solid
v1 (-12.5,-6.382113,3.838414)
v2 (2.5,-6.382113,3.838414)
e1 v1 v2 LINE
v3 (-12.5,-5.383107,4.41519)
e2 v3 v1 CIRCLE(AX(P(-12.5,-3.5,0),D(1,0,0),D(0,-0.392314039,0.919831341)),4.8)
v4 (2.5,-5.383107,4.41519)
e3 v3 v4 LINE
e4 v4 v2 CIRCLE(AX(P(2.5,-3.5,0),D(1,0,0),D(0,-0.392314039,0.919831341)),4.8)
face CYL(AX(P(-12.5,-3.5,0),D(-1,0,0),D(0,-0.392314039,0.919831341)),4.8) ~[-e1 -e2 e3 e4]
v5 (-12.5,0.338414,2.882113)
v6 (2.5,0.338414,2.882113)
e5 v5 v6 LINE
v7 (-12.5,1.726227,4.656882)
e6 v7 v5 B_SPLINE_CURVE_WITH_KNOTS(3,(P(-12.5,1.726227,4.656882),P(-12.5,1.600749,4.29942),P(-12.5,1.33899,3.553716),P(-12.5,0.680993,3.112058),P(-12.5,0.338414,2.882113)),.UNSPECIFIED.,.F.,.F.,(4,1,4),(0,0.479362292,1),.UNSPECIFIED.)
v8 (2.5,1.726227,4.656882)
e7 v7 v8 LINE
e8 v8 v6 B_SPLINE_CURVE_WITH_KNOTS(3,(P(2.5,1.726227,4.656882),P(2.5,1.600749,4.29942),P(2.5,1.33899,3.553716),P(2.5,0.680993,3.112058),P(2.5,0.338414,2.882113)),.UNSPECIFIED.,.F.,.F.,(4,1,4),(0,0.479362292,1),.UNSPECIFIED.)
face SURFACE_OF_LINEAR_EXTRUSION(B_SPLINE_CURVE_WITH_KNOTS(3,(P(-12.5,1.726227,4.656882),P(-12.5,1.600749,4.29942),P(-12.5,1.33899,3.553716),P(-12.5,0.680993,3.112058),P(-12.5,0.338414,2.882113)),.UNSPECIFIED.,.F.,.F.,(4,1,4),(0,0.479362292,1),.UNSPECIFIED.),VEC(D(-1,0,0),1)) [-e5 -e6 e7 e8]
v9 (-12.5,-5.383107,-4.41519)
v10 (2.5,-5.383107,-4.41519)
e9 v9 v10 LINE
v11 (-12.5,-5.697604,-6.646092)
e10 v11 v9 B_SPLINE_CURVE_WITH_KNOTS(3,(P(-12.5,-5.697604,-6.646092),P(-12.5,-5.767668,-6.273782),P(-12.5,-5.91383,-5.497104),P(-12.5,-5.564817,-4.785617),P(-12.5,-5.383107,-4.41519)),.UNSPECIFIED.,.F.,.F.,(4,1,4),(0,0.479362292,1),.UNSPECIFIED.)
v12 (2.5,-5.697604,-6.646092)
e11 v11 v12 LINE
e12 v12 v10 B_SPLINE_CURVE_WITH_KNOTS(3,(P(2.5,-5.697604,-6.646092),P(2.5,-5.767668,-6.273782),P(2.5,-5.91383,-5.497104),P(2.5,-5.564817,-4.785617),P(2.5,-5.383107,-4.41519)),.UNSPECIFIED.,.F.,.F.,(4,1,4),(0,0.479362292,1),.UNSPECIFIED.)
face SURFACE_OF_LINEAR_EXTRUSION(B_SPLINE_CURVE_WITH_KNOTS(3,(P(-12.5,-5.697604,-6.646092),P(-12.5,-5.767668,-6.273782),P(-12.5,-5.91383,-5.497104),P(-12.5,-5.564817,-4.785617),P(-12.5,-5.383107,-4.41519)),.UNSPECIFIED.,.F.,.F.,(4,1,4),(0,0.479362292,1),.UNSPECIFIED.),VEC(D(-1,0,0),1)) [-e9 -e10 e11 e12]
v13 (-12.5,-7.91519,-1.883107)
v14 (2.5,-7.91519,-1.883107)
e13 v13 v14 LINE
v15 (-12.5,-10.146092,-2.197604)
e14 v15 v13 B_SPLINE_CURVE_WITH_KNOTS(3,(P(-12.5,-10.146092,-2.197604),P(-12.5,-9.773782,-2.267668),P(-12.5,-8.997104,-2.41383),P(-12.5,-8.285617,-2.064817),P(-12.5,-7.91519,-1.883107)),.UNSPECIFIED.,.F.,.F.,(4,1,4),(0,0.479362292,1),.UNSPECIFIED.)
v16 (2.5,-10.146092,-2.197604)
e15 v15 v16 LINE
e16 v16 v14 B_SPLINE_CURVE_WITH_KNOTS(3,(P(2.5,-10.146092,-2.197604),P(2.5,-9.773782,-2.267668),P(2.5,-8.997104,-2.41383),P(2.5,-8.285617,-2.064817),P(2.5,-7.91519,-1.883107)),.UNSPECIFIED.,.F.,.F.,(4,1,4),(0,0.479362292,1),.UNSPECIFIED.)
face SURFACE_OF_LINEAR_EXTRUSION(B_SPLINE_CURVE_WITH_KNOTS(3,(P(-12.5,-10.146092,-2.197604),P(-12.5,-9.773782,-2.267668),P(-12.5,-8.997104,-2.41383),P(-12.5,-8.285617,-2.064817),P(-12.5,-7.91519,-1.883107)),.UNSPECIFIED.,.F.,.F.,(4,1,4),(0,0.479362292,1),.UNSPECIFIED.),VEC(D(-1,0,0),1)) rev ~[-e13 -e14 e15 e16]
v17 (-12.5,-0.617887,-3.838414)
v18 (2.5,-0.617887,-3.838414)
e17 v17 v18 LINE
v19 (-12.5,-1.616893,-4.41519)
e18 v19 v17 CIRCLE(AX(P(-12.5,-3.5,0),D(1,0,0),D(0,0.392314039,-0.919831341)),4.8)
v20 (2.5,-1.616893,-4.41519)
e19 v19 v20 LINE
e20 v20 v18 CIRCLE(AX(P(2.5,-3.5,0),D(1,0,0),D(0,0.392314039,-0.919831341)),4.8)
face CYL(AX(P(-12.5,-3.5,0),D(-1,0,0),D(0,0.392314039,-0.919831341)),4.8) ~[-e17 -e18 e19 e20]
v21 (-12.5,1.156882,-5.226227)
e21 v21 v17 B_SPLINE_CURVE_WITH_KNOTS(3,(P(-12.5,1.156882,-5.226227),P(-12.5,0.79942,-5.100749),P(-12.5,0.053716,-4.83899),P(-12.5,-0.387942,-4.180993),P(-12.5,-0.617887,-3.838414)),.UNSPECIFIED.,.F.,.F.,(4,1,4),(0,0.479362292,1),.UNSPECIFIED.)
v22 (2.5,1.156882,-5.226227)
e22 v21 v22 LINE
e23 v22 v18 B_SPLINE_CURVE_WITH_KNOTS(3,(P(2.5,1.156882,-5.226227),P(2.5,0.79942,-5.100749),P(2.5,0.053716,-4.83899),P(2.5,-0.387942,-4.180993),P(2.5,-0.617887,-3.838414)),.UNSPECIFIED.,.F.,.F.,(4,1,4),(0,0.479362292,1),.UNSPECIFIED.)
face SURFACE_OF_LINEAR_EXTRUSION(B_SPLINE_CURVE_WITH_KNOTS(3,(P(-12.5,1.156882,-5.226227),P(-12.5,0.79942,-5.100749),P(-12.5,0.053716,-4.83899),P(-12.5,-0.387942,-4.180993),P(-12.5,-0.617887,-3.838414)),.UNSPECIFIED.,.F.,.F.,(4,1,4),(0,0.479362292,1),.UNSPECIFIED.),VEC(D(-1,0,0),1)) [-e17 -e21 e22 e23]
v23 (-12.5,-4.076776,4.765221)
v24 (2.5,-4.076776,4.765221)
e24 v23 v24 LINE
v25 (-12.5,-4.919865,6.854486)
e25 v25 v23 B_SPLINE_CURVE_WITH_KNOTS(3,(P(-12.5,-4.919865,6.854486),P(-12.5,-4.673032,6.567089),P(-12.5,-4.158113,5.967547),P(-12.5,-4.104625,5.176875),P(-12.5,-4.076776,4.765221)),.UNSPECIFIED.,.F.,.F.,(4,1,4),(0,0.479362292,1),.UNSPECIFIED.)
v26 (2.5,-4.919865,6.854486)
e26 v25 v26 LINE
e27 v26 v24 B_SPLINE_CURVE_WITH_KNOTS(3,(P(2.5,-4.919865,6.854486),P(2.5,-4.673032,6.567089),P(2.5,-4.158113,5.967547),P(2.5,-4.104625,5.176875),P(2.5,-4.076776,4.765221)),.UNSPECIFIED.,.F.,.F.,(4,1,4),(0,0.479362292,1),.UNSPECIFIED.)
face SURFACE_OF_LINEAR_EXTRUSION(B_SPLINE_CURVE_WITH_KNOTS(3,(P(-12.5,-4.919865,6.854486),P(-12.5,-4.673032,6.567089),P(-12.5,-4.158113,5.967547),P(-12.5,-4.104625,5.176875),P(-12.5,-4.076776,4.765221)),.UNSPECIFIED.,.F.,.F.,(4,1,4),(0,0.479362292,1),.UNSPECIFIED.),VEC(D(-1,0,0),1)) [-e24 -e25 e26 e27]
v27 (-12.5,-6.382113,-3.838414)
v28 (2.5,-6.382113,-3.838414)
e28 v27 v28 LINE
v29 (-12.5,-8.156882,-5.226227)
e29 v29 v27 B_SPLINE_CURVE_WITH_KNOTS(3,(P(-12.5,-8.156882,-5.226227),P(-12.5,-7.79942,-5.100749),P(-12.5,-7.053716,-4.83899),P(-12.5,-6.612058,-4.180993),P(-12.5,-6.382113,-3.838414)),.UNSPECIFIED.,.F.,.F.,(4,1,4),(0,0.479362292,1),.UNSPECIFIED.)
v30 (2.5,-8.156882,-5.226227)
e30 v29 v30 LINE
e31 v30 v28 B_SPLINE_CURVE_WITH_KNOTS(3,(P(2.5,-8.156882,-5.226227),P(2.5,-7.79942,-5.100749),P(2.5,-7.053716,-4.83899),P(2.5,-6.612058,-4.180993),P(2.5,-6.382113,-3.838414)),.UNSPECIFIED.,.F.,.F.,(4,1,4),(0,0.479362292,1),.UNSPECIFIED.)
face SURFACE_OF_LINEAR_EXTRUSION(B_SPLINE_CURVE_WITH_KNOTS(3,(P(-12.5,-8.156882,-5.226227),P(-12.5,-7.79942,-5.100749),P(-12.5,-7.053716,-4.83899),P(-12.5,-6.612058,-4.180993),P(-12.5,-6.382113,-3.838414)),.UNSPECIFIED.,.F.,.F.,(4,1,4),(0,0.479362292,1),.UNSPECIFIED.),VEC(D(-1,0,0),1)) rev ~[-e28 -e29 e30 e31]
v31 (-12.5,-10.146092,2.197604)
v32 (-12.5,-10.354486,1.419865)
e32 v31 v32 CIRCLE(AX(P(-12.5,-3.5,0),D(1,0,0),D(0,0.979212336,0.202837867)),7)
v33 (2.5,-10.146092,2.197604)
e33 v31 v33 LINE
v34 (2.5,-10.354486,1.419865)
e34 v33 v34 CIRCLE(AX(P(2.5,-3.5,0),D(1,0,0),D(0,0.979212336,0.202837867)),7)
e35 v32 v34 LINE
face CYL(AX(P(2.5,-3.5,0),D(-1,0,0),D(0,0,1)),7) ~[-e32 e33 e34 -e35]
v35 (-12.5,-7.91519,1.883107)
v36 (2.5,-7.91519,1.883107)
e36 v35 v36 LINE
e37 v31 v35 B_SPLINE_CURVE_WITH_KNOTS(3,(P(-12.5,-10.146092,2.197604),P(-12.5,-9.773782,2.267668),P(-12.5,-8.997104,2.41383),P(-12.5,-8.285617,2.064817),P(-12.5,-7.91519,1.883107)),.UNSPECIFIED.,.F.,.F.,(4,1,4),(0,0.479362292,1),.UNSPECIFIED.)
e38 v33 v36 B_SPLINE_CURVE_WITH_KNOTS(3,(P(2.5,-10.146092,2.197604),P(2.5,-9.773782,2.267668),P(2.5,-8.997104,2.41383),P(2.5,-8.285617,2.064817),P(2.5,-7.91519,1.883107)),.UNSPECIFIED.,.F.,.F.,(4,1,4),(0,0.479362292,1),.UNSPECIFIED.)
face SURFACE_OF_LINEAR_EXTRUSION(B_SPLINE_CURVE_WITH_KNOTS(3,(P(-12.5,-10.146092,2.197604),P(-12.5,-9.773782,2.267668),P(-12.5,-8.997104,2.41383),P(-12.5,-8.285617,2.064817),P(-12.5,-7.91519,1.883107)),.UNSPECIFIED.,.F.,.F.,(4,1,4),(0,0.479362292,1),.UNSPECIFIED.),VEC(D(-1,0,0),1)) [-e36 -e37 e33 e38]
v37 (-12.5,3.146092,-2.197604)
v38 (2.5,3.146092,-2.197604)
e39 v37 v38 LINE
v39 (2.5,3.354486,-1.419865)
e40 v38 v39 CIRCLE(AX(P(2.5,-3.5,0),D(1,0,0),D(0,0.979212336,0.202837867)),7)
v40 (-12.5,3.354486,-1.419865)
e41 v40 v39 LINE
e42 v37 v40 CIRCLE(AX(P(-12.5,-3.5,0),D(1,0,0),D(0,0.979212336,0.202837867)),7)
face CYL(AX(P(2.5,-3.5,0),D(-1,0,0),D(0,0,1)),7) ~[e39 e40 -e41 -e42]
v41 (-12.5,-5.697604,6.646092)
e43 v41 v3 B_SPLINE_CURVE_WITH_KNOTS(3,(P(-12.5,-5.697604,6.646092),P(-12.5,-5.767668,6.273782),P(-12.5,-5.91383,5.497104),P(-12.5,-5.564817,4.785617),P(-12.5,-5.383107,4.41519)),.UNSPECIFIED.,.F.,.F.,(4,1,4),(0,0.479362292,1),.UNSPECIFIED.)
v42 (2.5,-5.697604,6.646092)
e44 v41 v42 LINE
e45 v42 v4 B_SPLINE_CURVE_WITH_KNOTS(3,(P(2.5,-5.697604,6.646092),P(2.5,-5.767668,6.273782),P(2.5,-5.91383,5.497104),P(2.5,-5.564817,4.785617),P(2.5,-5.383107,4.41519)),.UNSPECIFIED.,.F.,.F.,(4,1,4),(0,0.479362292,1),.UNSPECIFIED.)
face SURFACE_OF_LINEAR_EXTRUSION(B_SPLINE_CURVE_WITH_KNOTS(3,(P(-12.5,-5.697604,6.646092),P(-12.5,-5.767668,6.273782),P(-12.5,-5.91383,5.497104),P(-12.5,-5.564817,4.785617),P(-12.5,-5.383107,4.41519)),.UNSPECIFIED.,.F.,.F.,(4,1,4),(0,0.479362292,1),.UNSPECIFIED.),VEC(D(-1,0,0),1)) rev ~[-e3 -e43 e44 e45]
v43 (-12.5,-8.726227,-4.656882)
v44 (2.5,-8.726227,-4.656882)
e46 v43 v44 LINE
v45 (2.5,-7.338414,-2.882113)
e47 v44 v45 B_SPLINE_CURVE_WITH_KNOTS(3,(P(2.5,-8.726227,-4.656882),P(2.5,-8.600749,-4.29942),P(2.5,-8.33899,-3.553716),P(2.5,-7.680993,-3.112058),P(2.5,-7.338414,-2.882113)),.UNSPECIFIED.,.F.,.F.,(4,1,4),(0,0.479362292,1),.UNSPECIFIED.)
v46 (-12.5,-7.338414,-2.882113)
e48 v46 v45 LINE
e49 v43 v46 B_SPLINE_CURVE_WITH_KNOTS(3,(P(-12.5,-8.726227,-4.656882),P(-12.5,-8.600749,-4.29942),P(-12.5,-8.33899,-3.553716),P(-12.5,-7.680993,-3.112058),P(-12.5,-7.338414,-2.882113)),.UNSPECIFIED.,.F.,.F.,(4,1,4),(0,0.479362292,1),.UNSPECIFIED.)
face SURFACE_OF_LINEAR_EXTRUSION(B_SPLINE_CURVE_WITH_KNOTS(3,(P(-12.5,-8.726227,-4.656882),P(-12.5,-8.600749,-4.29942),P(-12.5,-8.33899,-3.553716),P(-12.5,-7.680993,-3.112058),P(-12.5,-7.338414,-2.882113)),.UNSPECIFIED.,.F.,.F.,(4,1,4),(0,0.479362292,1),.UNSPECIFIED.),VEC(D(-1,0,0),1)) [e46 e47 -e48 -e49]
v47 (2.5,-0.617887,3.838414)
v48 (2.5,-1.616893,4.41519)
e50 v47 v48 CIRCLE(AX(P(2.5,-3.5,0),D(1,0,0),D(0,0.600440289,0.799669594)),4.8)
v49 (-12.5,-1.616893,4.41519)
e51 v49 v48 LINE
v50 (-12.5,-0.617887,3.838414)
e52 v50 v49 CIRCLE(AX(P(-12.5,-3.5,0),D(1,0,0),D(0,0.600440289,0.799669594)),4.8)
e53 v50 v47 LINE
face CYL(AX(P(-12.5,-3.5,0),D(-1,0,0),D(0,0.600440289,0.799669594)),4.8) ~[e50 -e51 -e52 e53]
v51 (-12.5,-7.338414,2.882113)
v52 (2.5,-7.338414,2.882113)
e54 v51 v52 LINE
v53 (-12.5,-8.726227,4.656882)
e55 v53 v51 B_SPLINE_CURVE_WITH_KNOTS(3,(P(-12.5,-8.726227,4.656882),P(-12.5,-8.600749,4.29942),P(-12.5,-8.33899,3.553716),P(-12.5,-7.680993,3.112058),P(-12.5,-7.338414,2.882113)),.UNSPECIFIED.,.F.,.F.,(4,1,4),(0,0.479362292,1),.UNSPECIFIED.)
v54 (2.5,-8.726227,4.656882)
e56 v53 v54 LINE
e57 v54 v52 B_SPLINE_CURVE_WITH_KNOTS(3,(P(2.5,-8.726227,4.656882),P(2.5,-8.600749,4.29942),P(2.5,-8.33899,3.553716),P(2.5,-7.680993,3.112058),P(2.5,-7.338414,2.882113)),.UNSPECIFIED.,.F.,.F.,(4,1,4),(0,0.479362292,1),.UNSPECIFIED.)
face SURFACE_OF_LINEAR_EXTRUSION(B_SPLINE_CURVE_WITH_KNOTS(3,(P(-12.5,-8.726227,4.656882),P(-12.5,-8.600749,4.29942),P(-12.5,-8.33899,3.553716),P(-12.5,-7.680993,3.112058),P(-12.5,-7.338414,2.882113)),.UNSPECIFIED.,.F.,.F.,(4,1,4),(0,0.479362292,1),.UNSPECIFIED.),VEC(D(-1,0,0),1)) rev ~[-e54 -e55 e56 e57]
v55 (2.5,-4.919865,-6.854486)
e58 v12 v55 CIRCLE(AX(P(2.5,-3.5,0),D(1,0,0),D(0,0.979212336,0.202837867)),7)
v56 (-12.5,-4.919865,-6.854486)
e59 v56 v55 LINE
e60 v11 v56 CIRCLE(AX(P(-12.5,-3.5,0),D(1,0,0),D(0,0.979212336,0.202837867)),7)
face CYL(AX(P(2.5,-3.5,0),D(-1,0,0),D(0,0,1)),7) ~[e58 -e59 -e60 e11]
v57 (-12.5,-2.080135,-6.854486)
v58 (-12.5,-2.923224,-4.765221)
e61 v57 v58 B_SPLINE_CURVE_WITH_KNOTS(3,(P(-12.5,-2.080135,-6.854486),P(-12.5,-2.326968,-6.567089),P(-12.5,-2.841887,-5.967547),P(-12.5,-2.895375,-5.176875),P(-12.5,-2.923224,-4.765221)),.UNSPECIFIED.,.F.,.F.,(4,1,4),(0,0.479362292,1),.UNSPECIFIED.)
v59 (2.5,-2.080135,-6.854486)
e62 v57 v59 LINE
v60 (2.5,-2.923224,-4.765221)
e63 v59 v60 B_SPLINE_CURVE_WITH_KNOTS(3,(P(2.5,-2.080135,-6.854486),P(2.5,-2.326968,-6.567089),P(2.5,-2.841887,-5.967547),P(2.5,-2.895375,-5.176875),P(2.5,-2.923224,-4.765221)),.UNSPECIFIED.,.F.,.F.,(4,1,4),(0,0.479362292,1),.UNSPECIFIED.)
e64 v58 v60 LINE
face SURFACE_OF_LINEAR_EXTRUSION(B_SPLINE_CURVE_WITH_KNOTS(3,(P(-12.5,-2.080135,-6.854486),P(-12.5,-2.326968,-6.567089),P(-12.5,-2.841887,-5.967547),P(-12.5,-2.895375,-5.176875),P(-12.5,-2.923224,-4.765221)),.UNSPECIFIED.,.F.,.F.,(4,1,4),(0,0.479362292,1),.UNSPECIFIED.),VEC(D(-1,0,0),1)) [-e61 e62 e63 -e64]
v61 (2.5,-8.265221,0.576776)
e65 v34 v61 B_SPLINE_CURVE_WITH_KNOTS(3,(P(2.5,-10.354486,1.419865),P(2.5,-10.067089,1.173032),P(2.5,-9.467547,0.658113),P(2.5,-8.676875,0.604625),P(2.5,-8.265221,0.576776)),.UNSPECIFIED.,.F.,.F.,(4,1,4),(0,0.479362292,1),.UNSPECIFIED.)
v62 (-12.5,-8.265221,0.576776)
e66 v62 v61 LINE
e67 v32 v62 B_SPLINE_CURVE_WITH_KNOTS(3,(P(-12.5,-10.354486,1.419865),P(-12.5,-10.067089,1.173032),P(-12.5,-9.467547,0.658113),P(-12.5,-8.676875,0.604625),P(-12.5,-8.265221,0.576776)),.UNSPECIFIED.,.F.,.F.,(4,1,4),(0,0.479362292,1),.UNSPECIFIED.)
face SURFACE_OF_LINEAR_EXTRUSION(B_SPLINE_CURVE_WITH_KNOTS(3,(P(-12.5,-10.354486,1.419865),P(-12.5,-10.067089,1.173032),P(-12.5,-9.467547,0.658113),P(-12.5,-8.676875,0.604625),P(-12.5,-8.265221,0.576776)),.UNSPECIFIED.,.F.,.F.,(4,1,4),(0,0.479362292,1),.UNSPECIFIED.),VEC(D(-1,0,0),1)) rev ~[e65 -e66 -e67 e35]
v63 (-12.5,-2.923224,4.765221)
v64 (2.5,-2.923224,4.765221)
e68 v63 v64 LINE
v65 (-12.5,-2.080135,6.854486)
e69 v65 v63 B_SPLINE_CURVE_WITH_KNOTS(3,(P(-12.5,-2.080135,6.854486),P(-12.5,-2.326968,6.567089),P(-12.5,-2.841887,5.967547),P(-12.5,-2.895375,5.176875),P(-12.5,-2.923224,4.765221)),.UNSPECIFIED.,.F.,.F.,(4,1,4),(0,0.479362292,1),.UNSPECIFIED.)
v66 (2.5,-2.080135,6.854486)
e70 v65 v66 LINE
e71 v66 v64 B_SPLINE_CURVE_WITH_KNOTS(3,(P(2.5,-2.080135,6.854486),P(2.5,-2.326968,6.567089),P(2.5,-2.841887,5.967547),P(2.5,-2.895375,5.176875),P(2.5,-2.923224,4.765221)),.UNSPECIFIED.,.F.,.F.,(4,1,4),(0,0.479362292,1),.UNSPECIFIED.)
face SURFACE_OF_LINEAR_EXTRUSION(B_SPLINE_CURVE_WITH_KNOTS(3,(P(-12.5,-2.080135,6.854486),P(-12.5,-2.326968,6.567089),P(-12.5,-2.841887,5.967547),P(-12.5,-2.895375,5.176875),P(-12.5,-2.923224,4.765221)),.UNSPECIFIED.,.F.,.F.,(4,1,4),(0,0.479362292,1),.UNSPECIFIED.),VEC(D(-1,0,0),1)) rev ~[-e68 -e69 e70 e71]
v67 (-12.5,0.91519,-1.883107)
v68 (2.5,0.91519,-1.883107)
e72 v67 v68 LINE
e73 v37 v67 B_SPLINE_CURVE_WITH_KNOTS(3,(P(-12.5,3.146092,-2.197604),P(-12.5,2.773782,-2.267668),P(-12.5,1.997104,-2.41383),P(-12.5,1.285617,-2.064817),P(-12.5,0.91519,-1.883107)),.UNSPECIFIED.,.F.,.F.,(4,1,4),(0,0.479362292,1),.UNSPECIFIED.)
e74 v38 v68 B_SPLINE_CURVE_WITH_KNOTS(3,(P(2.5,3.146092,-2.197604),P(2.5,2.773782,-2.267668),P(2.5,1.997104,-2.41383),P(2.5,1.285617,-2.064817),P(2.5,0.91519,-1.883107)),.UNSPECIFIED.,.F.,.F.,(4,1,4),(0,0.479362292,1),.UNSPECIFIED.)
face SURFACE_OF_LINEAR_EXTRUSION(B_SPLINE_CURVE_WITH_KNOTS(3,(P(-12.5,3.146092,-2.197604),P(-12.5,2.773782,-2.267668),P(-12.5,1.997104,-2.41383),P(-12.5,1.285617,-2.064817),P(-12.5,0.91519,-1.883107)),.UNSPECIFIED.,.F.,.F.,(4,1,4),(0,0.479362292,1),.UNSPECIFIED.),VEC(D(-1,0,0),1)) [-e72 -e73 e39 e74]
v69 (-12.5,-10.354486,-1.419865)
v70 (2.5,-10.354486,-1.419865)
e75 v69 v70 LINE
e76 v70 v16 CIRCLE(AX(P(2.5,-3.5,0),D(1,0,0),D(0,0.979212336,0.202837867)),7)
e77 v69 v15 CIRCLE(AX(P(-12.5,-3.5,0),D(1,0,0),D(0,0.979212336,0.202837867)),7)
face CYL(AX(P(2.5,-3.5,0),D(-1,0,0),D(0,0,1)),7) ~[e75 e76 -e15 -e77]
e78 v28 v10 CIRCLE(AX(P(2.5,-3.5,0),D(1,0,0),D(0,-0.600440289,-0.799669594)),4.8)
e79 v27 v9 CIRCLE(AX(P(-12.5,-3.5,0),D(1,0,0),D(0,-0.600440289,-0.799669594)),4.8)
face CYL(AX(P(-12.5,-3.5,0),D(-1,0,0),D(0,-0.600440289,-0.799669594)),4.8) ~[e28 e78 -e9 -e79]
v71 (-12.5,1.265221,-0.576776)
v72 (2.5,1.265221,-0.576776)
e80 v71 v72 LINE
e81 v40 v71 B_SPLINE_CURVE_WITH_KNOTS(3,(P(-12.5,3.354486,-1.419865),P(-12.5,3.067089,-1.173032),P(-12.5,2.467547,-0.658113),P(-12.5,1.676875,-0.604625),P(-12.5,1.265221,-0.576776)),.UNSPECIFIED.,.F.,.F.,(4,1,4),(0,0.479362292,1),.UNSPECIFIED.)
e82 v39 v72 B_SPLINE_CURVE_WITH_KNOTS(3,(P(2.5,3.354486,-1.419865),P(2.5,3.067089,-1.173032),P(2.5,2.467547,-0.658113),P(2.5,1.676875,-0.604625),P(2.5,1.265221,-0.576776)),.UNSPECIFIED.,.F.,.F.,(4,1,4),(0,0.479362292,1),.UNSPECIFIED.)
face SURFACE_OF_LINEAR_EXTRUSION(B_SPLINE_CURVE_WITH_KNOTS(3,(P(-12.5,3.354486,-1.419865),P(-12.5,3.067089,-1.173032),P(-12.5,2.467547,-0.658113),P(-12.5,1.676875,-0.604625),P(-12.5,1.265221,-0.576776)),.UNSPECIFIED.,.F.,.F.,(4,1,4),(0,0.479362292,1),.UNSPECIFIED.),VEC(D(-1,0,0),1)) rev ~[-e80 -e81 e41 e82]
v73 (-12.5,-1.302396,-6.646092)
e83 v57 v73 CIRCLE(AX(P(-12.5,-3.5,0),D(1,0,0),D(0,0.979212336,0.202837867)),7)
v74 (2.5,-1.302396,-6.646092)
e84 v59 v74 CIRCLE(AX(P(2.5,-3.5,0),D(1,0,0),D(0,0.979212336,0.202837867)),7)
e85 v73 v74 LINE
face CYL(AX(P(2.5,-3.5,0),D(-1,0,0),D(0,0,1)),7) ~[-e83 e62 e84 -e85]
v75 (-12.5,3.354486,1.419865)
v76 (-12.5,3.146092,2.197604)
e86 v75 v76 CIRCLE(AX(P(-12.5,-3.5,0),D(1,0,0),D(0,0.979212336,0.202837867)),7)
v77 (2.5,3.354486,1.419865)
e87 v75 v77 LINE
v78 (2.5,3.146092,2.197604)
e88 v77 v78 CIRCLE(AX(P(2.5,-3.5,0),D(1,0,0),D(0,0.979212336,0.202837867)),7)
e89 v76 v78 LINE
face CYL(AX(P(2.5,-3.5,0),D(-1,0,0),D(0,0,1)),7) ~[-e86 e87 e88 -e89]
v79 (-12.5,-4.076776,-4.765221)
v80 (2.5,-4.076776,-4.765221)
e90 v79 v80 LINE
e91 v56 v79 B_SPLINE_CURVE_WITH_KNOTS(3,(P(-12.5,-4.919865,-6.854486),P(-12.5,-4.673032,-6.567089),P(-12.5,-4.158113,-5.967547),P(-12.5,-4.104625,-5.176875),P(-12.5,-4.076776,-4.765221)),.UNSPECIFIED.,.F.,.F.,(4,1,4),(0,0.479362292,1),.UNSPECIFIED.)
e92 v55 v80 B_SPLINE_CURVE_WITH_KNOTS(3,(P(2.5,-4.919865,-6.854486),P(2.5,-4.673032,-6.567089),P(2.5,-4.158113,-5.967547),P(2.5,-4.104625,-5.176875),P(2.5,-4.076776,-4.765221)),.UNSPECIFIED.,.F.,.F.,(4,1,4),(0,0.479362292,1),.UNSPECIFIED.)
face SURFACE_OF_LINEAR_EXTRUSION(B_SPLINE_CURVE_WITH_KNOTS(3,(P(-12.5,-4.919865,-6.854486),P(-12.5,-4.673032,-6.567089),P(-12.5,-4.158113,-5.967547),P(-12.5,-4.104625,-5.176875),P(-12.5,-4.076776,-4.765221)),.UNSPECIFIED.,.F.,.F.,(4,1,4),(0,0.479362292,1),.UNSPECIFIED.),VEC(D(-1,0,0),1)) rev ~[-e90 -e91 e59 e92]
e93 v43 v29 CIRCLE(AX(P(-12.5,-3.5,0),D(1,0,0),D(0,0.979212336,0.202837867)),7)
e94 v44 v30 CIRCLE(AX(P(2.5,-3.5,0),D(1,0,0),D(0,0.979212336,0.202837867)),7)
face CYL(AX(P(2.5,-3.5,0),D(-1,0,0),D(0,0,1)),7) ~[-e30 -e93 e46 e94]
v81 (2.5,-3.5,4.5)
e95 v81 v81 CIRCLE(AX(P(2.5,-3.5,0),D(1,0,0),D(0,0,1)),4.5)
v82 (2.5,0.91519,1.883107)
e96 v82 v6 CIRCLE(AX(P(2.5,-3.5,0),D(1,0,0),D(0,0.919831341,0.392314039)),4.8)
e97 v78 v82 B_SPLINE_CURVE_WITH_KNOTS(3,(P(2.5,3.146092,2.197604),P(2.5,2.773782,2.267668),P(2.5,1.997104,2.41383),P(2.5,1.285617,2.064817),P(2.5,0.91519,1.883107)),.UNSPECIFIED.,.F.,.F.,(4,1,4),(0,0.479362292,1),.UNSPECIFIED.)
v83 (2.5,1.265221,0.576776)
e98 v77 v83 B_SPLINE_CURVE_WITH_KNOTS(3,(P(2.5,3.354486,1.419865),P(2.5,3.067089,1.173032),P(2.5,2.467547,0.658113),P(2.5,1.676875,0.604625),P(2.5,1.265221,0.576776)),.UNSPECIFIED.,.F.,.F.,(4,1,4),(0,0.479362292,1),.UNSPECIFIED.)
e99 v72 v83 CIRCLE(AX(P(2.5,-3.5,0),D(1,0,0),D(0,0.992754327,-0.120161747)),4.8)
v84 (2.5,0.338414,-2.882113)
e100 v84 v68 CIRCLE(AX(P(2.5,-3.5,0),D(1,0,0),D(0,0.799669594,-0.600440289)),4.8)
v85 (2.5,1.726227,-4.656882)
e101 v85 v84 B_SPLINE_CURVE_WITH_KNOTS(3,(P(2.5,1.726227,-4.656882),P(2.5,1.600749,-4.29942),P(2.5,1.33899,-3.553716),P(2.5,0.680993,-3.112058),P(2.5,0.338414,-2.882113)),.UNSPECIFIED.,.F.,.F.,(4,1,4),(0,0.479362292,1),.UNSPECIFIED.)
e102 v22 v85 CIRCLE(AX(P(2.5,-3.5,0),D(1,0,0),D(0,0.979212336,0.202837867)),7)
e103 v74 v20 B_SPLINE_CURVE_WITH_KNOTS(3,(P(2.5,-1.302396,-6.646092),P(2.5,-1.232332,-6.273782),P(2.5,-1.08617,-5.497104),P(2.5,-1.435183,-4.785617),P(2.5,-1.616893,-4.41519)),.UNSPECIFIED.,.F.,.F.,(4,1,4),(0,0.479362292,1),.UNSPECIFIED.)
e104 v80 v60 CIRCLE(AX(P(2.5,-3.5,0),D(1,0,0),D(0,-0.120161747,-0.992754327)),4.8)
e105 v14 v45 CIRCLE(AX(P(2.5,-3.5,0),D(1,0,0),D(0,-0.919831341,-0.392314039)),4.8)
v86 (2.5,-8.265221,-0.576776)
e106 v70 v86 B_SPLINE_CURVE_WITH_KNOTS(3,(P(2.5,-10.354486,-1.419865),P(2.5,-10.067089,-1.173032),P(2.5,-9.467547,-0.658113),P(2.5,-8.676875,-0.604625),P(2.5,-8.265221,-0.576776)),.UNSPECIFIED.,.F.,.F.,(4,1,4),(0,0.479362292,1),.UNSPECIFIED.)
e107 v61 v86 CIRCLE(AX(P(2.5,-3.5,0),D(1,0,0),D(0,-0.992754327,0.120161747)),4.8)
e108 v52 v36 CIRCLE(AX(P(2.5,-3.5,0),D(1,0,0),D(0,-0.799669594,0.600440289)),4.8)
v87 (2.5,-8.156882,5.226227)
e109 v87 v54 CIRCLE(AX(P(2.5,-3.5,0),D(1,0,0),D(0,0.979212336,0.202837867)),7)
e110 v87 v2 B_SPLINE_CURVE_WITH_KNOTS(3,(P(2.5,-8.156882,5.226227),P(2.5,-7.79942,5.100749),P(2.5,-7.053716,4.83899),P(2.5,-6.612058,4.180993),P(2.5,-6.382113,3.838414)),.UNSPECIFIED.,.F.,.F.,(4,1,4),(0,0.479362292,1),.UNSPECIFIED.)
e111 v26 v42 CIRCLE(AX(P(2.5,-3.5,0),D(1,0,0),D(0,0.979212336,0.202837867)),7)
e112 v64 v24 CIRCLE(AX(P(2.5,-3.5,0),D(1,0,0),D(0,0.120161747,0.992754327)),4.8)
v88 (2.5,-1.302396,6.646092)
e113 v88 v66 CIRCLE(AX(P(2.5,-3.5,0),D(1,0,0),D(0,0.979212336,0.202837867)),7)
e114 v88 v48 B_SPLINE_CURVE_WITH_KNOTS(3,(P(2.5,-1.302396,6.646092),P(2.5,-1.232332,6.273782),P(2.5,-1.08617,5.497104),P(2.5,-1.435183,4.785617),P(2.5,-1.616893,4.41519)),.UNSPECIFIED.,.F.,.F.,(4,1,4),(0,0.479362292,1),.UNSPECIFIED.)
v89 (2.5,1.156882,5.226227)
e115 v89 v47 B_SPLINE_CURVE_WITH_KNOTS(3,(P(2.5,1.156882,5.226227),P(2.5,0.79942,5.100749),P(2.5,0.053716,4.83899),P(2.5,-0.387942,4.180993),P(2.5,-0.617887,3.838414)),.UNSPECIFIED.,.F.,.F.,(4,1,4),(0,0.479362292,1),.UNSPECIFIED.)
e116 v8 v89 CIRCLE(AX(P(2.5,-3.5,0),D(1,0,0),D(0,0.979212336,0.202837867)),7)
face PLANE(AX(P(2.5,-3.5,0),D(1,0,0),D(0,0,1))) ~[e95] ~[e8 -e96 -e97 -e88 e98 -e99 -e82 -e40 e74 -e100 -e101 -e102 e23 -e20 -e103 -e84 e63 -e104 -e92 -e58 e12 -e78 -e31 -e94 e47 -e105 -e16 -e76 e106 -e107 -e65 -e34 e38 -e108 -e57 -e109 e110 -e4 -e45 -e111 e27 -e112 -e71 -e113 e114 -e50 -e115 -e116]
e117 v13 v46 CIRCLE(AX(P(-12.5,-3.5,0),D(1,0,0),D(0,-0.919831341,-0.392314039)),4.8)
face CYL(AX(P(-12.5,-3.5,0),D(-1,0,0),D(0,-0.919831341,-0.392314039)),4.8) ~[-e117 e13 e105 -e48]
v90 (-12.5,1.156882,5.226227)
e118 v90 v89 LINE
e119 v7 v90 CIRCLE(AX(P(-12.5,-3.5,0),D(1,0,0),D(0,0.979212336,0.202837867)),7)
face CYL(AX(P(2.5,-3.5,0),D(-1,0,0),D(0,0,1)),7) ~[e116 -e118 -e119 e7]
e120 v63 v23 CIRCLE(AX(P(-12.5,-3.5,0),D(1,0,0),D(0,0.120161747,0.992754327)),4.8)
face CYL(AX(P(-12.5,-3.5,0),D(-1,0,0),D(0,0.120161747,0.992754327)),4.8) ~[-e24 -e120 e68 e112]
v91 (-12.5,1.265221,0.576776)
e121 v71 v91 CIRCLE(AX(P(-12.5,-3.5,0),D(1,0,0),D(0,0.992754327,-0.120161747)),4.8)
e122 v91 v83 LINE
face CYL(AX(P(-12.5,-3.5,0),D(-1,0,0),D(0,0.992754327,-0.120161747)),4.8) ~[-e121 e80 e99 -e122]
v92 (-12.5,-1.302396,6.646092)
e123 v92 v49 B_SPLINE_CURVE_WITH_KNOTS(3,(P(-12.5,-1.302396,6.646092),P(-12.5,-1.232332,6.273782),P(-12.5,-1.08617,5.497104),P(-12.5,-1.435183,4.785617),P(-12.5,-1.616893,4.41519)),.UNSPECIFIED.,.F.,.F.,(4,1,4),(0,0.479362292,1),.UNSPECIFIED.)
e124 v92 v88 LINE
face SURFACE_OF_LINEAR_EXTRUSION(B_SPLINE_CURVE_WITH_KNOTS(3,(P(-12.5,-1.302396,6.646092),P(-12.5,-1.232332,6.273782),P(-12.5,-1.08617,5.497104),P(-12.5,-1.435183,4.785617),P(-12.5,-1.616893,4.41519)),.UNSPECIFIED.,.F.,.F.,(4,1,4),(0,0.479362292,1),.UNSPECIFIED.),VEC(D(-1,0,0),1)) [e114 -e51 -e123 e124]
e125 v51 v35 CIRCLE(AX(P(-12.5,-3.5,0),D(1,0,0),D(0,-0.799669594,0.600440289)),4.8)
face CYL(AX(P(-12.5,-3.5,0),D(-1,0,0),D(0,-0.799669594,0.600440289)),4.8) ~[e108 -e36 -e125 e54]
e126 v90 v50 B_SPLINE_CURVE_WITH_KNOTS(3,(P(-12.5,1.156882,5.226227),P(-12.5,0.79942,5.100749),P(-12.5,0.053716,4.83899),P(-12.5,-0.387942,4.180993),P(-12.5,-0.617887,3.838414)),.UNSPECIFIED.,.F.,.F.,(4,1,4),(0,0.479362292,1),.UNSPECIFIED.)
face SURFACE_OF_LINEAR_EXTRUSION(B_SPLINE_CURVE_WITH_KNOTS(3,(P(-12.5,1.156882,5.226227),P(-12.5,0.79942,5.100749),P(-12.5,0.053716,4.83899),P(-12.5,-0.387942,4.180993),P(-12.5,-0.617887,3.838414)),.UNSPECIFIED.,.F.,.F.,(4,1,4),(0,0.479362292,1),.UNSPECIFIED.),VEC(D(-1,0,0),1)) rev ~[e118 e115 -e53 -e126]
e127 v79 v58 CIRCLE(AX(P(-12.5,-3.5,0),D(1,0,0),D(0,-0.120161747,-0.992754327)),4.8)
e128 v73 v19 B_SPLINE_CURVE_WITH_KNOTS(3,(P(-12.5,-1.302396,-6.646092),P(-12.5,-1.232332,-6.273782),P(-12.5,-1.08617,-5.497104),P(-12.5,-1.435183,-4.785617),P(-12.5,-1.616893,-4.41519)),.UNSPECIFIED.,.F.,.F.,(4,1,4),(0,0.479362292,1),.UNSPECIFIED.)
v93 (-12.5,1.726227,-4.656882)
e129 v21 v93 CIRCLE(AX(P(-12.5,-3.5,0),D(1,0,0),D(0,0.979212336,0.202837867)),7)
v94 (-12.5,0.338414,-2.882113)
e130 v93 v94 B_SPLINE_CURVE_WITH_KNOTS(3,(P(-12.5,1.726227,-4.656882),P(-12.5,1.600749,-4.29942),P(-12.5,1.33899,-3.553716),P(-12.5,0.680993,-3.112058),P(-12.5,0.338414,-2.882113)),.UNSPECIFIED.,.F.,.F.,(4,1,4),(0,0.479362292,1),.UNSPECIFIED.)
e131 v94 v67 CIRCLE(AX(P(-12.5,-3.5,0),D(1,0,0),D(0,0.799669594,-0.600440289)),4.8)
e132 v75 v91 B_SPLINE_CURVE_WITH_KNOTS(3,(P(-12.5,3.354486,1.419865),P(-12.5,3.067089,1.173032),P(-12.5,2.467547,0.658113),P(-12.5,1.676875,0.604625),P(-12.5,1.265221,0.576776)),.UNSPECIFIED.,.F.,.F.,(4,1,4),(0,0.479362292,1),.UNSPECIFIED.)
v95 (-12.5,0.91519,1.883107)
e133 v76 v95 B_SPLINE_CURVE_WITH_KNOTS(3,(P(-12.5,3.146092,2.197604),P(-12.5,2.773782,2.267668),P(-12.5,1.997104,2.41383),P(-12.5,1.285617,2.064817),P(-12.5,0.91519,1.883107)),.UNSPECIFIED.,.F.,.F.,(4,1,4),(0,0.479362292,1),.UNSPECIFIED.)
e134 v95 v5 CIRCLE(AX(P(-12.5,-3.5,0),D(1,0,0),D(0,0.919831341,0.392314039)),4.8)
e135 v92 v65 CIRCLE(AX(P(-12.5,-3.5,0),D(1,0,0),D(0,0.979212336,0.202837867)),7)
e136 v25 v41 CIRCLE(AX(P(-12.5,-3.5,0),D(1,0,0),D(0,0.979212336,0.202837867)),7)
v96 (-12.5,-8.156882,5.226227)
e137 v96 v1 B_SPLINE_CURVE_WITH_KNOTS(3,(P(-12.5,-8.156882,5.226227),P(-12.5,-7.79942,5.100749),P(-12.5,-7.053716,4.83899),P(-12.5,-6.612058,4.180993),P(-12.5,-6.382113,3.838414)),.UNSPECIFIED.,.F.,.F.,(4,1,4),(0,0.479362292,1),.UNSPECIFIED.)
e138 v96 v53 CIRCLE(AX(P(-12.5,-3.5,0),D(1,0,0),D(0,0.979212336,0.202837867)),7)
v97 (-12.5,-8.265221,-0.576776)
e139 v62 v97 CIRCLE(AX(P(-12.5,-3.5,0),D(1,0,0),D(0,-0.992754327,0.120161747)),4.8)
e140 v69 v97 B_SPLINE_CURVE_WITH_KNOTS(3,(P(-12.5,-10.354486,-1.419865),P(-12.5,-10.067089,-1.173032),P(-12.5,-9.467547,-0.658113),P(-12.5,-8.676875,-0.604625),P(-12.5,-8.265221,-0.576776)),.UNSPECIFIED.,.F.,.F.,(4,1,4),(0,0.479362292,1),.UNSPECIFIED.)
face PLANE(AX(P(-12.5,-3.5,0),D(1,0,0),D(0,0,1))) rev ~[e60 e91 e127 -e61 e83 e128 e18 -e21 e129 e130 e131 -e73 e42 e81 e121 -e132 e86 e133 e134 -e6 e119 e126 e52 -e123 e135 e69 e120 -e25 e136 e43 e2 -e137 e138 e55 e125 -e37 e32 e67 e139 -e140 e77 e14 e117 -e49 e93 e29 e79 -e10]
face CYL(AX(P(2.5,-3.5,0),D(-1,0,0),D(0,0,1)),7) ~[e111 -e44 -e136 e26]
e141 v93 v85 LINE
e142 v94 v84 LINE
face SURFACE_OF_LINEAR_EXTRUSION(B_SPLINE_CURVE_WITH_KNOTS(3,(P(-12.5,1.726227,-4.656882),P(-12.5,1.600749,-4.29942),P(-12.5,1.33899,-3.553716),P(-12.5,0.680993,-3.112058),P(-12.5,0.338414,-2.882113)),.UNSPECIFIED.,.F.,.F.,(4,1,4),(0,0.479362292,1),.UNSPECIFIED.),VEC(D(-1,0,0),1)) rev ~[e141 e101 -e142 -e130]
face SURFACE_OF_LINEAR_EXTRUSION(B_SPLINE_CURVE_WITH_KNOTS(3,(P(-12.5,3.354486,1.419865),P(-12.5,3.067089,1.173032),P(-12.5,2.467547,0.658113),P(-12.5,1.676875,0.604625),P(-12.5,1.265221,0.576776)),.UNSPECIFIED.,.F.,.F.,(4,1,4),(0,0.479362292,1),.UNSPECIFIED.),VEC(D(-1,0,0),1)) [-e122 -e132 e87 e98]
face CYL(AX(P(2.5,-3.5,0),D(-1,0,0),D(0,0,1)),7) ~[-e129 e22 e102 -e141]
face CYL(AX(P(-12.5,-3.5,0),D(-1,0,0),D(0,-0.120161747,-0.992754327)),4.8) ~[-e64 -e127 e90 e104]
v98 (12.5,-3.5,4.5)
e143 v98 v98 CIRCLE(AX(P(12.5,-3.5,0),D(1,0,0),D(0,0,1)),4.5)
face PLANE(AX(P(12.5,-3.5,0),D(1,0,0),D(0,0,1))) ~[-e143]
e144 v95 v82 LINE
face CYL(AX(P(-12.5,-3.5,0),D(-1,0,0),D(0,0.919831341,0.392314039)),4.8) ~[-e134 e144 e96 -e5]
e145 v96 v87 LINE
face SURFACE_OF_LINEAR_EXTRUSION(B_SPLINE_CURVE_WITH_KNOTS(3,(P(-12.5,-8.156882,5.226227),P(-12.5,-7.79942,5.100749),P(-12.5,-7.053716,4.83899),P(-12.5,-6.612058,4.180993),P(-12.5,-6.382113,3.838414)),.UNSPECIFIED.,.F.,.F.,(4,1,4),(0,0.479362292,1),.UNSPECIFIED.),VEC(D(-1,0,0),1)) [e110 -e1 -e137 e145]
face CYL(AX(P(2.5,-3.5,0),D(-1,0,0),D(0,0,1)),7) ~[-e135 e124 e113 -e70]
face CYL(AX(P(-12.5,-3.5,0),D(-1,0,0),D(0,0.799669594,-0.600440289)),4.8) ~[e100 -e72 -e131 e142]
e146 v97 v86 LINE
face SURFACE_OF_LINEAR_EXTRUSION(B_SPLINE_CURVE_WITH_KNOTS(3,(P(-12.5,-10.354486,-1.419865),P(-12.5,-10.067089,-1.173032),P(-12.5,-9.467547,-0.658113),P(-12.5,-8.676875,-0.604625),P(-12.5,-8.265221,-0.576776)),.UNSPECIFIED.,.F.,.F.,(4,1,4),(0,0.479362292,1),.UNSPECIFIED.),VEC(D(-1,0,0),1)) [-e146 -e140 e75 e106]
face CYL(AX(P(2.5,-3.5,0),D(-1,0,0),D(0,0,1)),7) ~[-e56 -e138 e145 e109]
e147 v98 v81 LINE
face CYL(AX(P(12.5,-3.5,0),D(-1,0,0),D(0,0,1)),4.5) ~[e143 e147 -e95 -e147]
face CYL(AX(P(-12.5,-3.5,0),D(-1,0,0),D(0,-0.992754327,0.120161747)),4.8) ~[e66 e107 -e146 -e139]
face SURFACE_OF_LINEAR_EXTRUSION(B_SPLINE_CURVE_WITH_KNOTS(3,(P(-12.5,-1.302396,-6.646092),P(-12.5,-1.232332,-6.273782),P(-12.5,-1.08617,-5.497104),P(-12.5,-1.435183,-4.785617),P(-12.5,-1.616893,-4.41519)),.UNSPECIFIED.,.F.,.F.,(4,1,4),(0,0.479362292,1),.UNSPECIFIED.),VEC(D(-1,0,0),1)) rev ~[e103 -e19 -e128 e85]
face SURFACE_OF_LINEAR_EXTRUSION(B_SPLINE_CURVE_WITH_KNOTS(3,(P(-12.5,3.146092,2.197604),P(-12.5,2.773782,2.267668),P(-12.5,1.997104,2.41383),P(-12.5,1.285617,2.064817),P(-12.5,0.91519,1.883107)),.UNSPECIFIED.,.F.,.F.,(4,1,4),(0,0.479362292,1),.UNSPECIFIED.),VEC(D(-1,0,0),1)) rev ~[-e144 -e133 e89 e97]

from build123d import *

# Parameters (mm, degrees)
KUGGLUCKA_DEPTH  = 15
CIRPATTERN_COUNT = 12


with BuildPart() as part:
    # Ritning 1 → Kugghjulsämne (revolve)
    with BuildSketch(Plane.XY, mode=Mode.PRIVATE) as kugghjuls_mne_sk:
        Polygon((12.5, 1), (2.5, 1), (2.5, 3.5), (-12.5, 3.5), (-12.5, -3.5), (12.5, -3.5), align=None)
    revolve(kugghjuls_mne_sk.sketch.rotate(Axis((-12.5, -3.5, 0), (1, 0, 0)), 90), axis=Axis((-12.5, -3.5, 0), (1, 0, 0)))

    # Ritning 2 → Kugglucka (cut)
    with BuildSketch(Plane.ZY.offset(12.5)):
        with BuildLine():
            Line((1.419865071, 3.354486354), (0, 4.774351425))
            Line((0, 4.774351425), (-1.419865071, 3.354486354))
            add(Edge.make_bspline(
                [(-1.419865071, 3.354486354), (-1.173032372, 3.067088657), (-0.658113481, 2.467546927), (-0.604624671, 1.6768746), (-0.576776379, 1.265220772)],
                knots=[0, 0, 0, 0, 0.479362292, 1, 1, 1, 1], degree=3))
            ThreePointArc((-0.576776379, 1.265220772), (0, 1.3), (0.576776379, 1.265220772))
            add(Edge.make_bspline(
                [(1.419865071, 3.354486354), (1.173032372, 3.067088657), (0.658113481, 2.467546927), (0.604624671, 1.6768746), (0.576776379, 1.265220772)],
                knots=[0, 0, 0, 0, 0.479362292, 1, 1, 1, 1], degree=3))
        make_face()
    kugglucka = extrude(amount=-KUGGLUCKA_DEPTH, mode=Mode.SUBTRACT)

    # CirPattern: Kugglucka ×12 about axis
    cirpattern_axis = Axis((-12.5, -3.5, 0), (-1, 0, 0))
    for i in range(1, CIRPATTERN_COUNT):
        add(kugglucka.rotate(cirpattern_axis, i * 360 / CIRPATTERN_COUNT), mode=Mode.SUBTRACT)


solid = part.part
